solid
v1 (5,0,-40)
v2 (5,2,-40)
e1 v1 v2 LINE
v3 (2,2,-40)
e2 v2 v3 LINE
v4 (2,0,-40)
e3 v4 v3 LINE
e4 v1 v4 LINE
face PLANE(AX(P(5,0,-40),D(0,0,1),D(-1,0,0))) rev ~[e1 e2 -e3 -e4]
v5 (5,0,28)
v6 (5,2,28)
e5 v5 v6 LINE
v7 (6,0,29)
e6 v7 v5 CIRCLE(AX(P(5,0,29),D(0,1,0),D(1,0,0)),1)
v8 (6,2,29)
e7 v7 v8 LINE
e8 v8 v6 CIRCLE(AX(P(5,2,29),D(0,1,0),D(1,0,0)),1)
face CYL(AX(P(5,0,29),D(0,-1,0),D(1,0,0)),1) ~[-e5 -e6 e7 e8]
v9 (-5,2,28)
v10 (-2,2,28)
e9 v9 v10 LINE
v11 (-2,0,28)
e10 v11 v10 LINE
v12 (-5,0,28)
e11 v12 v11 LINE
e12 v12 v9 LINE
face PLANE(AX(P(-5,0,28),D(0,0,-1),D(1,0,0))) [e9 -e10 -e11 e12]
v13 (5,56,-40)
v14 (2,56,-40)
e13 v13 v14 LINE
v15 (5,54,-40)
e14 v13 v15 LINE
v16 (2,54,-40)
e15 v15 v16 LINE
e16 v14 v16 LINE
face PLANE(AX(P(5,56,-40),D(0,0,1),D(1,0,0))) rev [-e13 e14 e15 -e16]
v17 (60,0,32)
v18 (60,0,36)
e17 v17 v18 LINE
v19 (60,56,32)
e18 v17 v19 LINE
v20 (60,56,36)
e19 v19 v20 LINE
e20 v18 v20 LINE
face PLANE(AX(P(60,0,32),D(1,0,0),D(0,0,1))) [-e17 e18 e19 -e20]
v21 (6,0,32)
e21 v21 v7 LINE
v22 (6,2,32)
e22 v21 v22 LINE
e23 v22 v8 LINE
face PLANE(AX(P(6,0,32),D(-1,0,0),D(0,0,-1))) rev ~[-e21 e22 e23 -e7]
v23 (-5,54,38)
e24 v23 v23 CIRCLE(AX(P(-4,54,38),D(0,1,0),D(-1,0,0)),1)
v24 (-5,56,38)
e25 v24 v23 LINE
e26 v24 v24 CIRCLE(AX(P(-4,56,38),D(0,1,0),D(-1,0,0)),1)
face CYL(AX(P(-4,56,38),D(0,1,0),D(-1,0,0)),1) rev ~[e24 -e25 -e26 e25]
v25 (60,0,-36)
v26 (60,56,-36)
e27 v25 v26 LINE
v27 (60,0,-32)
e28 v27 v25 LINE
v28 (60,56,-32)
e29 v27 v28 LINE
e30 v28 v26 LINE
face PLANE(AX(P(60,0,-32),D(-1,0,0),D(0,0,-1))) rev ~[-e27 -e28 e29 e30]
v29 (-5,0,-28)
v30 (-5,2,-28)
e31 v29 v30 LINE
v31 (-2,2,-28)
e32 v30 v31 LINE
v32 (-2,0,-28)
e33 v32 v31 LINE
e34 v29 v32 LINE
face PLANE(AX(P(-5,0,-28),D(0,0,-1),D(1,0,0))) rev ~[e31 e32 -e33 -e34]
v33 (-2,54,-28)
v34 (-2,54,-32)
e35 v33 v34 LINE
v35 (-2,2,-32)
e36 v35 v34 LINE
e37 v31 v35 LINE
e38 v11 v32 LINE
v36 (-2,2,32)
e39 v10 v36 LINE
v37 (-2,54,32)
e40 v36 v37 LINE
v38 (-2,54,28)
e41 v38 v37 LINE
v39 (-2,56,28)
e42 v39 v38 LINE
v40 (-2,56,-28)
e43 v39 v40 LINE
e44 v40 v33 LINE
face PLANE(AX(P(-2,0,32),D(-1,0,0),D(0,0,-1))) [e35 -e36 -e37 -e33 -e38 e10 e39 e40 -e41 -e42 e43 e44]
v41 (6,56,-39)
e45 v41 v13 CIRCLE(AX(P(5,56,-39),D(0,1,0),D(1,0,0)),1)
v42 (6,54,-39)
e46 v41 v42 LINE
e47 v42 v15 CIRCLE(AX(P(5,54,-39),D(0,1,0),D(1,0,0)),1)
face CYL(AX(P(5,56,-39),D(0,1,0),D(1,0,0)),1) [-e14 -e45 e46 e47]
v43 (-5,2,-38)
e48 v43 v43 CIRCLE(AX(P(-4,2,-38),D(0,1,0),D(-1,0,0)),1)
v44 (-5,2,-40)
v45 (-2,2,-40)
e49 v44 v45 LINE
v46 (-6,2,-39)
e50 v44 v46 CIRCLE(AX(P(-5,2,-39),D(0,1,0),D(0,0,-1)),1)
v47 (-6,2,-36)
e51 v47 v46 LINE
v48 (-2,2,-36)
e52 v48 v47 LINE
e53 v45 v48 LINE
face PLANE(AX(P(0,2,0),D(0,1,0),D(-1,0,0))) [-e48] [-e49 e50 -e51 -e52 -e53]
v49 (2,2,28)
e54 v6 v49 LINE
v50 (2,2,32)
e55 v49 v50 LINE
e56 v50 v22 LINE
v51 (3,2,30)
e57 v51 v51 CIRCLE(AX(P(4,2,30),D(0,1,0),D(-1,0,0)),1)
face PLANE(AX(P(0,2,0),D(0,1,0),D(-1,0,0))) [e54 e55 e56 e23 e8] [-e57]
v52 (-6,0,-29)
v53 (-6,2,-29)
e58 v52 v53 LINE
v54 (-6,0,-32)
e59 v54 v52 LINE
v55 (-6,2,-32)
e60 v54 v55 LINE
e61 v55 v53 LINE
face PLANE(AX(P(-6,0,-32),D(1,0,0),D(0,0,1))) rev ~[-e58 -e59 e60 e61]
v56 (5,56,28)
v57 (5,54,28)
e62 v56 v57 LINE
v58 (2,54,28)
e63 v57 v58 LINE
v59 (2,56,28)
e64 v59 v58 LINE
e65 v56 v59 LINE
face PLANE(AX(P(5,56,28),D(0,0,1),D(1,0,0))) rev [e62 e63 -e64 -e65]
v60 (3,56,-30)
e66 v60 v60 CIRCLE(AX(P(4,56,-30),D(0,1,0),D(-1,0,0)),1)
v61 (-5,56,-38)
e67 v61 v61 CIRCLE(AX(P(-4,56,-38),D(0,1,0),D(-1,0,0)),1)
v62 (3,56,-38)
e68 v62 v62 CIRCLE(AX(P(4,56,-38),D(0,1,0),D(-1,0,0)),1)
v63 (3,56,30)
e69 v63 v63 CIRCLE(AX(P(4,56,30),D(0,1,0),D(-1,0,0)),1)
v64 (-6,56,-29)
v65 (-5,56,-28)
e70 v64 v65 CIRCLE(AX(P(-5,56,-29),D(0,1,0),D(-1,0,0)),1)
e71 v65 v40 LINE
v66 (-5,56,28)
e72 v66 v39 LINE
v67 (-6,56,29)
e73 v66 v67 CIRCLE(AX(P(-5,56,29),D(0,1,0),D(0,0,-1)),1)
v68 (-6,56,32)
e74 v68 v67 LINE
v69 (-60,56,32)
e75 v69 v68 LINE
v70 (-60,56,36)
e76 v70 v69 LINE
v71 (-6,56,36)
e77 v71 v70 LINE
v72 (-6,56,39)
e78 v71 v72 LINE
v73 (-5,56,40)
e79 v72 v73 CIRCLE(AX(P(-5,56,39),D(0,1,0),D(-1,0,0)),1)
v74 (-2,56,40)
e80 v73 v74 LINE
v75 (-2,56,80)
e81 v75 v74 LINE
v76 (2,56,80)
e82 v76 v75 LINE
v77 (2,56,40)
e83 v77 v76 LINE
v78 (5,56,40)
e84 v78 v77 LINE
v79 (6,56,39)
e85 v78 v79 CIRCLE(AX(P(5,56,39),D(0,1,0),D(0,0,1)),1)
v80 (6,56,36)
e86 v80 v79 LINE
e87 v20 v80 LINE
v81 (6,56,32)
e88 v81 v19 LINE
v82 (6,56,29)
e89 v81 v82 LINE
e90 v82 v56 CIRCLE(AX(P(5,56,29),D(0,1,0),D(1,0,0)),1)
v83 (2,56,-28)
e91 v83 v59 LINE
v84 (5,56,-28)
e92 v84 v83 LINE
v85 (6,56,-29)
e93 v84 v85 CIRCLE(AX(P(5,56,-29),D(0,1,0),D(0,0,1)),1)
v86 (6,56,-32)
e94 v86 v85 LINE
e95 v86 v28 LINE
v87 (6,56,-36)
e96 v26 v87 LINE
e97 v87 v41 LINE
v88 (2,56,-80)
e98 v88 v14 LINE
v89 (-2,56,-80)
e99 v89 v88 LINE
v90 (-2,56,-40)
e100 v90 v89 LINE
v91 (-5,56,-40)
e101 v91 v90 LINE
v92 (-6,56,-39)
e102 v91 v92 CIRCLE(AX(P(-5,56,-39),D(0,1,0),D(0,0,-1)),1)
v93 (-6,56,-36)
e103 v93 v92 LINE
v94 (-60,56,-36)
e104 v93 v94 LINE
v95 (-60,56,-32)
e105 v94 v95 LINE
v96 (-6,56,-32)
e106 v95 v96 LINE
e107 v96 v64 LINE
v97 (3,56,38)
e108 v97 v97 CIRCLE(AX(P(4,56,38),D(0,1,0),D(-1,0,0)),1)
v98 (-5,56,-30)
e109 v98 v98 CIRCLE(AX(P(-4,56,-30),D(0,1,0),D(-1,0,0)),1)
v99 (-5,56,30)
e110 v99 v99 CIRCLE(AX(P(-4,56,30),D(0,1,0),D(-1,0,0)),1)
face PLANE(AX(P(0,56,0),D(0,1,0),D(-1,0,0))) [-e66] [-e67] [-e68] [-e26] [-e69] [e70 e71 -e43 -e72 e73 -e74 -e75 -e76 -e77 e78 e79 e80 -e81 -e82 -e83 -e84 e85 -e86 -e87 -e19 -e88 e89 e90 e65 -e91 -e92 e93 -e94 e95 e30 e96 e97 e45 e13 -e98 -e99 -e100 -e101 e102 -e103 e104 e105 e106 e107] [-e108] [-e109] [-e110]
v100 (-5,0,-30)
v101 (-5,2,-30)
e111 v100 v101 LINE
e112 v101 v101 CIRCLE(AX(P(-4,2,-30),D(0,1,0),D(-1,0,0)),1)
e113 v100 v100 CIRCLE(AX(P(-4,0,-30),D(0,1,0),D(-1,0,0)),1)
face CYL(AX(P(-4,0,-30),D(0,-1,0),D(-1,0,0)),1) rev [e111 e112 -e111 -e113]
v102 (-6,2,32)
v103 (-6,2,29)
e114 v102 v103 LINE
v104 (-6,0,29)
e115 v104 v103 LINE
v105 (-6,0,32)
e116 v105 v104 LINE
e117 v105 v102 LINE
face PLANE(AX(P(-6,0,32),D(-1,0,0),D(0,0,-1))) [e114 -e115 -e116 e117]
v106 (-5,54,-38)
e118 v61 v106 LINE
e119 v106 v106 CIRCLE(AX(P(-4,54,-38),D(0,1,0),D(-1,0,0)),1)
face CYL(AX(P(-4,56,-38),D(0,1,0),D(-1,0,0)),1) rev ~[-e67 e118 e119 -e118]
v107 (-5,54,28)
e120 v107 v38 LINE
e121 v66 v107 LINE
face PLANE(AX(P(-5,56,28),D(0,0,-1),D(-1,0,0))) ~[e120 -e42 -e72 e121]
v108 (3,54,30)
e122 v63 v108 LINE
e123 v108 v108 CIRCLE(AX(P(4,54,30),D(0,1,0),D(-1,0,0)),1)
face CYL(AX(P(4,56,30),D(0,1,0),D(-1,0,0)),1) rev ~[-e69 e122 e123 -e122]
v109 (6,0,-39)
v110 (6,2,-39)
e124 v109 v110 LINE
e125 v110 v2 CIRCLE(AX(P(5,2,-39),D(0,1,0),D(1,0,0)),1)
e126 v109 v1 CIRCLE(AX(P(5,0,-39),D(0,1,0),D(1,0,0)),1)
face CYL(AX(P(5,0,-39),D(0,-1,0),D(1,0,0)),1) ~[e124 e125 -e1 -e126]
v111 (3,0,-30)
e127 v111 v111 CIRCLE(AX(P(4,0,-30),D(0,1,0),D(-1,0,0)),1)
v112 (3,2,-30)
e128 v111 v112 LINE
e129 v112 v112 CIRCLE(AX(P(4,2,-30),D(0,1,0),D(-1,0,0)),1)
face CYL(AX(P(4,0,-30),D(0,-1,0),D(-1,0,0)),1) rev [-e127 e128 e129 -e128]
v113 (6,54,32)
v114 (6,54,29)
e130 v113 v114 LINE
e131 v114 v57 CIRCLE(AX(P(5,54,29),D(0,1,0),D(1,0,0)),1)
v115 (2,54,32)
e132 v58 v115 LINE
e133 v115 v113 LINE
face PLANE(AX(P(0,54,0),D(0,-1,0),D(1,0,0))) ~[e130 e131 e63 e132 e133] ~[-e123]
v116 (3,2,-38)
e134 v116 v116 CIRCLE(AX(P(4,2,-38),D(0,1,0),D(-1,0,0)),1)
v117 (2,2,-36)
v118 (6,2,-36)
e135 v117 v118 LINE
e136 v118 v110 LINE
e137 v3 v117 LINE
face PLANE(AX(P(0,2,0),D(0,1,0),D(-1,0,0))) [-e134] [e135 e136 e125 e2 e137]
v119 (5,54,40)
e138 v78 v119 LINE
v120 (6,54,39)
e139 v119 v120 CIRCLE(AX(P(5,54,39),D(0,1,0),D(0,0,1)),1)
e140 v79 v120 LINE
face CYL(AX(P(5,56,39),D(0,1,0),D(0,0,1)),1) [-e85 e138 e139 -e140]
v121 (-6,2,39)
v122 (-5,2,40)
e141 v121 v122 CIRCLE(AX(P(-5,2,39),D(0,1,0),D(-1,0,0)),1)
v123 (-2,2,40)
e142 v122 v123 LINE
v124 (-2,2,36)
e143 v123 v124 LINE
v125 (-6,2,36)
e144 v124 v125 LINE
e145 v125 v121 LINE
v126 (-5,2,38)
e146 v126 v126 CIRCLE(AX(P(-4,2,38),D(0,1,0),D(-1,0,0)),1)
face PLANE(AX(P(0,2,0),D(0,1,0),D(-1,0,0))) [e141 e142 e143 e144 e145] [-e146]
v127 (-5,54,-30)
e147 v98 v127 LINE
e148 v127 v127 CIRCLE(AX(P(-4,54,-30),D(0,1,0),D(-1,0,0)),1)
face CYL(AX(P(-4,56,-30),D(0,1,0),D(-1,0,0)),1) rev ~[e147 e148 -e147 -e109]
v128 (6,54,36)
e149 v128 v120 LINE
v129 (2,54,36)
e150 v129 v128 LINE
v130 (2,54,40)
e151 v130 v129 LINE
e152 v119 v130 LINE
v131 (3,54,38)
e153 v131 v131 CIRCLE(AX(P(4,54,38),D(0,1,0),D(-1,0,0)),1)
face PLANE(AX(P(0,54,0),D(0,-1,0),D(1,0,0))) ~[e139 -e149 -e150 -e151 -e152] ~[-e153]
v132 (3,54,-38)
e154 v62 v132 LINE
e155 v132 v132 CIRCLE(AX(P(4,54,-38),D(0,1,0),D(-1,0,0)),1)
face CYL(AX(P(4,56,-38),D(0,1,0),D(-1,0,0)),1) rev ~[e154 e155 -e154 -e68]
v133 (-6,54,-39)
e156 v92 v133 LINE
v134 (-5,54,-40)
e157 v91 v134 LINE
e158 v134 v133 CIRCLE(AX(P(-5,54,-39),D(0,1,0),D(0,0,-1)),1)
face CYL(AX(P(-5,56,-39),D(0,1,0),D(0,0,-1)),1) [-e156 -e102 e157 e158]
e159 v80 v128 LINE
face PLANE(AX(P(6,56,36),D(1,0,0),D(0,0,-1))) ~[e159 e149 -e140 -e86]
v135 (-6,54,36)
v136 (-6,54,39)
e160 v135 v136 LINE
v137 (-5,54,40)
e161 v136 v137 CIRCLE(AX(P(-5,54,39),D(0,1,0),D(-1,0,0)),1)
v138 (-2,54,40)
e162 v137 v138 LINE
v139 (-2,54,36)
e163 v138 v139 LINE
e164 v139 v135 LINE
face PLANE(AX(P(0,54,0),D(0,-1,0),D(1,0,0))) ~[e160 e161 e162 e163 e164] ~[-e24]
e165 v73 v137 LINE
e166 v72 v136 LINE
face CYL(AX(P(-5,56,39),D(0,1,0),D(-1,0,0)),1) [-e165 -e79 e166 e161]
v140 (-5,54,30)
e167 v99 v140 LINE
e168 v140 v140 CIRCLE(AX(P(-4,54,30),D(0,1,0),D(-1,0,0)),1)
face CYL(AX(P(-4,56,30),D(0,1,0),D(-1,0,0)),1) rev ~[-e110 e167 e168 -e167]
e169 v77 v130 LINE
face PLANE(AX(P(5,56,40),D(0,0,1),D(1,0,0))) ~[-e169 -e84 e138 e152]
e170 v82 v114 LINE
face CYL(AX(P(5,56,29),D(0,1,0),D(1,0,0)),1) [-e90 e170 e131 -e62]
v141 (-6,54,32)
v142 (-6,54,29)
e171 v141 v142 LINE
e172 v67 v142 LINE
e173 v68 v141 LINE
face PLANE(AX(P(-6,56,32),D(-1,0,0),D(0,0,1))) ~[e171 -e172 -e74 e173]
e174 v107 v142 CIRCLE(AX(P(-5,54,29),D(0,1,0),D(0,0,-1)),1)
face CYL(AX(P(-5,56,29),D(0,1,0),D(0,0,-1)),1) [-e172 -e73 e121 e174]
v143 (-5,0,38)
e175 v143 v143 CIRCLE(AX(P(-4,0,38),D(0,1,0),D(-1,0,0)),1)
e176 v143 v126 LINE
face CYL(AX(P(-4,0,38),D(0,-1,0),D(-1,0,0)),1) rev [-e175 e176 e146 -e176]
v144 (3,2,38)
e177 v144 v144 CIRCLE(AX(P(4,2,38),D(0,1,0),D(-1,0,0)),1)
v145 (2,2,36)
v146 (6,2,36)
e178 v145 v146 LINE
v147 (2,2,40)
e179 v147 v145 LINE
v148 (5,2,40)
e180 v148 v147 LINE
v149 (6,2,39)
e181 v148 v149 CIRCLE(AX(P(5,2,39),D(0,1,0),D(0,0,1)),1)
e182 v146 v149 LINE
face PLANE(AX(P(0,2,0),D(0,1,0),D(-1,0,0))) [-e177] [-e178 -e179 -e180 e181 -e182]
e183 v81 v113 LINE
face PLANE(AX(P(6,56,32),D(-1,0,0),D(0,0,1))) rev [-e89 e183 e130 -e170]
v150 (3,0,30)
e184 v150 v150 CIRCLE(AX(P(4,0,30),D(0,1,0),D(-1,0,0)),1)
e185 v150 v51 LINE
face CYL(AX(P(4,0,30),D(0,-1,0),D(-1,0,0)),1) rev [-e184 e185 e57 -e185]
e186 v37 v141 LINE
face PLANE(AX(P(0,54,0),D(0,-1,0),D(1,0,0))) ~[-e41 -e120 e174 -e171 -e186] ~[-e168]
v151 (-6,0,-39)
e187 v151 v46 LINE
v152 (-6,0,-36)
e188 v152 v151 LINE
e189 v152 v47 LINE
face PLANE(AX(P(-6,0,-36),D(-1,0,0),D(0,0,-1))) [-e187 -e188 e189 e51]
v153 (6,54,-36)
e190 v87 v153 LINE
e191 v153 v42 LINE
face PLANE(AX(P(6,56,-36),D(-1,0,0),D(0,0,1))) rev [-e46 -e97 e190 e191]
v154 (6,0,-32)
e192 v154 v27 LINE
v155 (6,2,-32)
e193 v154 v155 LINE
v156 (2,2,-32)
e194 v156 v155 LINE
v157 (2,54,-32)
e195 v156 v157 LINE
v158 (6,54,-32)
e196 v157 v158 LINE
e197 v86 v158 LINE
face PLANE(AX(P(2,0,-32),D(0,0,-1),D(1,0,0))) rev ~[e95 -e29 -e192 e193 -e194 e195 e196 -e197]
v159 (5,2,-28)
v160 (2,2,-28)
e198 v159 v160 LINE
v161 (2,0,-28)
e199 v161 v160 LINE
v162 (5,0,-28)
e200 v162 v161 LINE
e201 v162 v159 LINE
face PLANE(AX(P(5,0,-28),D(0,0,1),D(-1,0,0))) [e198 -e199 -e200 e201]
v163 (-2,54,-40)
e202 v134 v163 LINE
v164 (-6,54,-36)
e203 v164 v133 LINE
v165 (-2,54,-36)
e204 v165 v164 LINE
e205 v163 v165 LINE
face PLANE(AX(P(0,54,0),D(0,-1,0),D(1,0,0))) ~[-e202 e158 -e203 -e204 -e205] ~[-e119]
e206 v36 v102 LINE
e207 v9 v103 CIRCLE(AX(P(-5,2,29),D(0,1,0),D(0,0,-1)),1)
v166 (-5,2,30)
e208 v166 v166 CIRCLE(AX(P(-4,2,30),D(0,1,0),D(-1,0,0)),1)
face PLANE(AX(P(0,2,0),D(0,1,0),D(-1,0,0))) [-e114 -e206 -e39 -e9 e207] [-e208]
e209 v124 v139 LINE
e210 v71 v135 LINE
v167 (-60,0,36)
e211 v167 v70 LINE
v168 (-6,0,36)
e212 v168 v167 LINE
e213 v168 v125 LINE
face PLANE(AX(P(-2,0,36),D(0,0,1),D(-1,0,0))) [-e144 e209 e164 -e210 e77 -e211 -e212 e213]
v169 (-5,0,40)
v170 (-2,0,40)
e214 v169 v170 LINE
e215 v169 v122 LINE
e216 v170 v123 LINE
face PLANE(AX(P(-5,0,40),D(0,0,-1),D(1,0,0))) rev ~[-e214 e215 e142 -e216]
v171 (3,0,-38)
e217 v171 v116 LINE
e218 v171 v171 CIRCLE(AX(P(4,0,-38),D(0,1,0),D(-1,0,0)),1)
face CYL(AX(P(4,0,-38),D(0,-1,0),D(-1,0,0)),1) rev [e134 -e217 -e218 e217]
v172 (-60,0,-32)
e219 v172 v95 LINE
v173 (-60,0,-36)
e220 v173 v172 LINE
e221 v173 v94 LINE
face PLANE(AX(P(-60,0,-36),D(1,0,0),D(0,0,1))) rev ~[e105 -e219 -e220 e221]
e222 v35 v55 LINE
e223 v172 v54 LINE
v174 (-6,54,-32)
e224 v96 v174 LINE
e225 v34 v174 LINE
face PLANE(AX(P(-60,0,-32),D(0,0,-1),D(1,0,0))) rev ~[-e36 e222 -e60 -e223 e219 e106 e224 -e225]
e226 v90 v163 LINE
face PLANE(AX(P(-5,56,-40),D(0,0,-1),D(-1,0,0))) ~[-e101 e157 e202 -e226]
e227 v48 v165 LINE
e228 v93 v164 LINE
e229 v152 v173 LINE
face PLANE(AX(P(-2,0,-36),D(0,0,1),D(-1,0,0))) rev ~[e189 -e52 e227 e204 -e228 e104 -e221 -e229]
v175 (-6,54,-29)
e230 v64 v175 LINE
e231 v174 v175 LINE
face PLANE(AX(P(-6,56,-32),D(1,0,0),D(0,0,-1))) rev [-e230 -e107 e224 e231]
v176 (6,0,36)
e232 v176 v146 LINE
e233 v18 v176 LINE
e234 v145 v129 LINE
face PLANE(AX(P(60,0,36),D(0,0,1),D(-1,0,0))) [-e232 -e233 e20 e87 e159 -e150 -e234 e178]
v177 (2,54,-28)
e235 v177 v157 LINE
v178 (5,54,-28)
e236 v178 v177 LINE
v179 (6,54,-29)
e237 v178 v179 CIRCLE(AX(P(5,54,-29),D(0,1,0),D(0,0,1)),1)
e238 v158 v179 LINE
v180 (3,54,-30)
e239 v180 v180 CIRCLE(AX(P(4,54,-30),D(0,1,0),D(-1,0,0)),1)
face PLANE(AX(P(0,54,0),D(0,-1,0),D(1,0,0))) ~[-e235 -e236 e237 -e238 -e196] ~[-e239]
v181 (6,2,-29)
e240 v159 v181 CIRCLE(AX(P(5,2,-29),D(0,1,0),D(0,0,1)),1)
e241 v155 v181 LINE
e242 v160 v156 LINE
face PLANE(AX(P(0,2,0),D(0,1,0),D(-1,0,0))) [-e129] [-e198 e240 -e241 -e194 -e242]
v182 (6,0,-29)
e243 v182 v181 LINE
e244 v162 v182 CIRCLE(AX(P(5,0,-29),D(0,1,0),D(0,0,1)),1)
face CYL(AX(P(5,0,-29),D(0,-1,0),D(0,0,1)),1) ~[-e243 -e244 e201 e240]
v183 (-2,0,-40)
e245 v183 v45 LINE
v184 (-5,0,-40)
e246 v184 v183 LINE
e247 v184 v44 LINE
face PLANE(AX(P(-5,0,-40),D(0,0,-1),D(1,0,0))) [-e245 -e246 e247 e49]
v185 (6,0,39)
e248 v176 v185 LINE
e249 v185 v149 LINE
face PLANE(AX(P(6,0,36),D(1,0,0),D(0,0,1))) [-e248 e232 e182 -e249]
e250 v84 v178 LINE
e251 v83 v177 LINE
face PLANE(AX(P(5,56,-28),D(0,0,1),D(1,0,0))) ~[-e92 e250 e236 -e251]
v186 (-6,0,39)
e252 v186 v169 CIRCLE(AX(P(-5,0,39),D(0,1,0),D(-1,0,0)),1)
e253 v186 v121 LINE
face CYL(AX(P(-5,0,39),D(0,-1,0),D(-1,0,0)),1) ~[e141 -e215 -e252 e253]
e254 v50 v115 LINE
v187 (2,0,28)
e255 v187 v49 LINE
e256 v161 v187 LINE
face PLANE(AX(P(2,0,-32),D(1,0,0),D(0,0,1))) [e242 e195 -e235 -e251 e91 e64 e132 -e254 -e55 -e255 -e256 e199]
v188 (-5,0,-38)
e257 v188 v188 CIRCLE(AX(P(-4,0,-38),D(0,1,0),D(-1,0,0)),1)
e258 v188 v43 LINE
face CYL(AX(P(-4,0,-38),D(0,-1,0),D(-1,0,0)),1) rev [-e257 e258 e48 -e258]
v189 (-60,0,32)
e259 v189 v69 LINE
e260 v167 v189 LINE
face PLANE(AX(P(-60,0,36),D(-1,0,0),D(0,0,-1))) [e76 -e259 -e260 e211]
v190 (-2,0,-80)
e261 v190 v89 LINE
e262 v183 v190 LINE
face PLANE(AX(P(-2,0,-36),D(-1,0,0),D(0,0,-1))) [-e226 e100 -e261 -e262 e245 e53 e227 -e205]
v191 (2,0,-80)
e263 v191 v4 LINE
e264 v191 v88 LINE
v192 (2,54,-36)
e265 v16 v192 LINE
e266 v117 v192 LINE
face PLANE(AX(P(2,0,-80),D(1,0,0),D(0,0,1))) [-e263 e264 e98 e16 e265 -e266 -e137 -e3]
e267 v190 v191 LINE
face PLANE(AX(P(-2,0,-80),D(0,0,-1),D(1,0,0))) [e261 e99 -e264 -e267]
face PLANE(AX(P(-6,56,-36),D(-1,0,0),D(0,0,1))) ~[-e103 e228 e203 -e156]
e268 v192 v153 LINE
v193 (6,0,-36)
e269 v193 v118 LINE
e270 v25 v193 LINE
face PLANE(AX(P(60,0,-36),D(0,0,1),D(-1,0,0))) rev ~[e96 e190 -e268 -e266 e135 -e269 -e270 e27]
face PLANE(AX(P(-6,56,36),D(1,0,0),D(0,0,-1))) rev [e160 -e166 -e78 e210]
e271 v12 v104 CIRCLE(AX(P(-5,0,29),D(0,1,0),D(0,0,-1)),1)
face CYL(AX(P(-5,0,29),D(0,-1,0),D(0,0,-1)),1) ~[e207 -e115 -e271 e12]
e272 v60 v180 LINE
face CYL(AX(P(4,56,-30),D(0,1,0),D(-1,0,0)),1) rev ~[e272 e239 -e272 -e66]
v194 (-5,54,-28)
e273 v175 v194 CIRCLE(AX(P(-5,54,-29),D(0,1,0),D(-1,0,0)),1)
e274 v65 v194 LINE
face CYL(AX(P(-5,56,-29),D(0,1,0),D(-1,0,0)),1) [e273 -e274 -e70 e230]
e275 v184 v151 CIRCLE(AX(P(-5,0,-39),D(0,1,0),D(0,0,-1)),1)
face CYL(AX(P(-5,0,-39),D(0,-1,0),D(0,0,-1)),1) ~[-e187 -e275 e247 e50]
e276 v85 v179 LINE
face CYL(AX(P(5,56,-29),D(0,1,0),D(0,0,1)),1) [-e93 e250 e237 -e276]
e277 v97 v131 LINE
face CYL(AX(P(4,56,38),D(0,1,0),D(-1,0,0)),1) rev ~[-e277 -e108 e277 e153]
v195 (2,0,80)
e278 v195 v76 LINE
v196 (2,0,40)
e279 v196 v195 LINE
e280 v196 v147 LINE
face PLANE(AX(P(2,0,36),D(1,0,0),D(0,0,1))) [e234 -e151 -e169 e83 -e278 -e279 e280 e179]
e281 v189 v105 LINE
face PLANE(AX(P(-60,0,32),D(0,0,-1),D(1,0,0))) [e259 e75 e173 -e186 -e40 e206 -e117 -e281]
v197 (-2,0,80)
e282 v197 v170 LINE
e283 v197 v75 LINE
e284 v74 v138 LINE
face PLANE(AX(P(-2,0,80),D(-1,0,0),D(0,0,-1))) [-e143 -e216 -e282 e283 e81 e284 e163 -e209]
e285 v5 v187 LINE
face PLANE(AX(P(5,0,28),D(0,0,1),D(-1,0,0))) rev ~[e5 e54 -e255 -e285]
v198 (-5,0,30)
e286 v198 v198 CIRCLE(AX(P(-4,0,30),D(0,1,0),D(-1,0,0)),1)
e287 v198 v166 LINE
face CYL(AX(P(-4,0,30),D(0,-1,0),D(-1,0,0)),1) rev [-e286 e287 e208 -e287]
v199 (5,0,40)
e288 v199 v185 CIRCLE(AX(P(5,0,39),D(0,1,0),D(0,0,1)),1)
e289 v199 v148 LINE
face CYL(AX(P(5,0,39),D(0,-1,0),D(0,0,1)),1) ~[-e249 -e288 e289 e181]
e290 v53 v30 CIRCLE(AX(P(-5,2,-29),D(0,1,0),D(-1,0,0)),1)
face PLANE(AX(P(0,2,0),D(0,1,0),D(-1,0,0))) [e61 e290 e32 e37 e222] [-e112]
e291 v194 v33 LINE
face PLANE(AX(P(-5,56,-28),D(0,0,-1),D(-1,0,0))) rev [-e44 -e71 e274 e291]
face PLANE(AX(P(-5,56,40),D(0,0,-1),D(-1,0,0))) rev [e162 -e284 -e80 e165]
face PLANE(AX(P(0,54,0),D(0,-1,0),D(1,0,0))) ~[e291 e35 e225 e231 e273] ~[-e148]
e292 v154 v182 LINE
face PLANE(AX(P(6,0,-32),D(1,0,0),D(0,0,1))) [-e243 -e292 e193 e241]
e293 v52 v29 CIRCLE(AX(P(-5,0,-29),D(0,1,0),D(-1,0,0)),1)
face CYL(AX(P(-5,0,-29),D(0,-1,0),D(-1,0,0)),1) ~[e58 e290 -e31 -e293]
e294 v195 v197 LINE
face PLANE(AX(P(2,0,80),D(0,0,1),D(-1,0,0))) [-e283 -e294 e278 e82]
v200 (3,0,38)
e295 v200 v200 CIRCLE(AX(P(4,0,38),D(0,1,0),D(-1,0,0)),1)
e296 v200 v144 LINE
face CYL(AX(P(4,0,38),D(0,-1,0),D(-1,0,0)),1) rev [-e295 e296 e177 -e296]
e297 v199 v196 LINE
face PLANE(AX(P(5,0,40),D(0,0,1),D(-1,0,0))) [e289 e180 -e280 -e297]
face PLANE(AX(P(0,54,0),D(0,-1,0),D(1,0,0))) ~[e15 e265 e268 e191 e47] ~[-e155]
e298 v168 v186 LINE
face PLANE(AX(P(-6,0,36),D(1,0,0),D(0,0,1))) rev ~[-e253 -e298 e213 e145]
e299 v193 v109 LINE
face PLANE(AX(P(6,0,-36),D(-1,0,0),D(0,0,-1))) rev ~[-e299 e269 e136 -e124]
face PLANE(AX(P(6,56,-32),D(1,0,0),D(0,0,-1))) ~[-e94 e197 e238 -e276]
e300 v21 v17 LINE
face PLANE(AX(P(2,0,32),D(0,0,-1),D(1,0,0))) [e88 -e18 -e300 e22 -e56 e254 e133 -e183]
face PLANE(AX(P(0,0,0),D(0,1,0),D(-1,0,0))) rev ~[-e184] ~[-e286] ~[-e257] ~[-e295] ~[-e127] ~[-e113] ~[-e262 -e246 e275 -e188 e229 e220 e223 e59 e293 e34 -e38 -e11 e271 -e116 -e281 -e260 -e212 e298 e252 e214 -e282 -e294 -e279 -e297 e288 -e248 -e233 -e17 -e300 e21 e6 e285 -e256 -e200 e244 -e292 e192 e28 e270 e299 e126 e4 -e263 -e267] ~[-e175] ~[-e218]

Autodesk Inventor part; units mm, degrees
ref_plane "YZ Plane" through (0, 0, 0) normal (1, 0, 0) x (0, 1, 0)
ref_plane "XY Plane" through (0, 0, 0) normal (0, 0, 1) x (1, 0, 0)
sketch "Эскиз1" plane through (0, 0, 0) normal (0, 1, 0) x (-1, 0, 0)
  line L0 (-2, 80) -> (2, 80)
  line L1 (2, 80) -> (2, -80)
  line L2 (2, -80) -> (-2, -80)
  line L3 (-2, -80) -> (-2, 80)
  line L4 (60, 32) -> (-60, 32)
  line L5 (-60, 32) -> (-60, 36)
  line L6 (-60, 36) -> (60, 36)
  line L7 (60, 36) -> (60, 32)
  line L8 (60, -32) -> (-60, -32)
  line L9 (-60, -32) -> (-60, -36)
  line L10 (-60, -36) -> (60, -36)
  line L11 (60, -36) -> (60, -32)
  line L12 (60, 32) -> (60, -32) construction
  line L13 (2, -80) -> (2, -80)
  line L14 (2, -80) -> (-2, -80)
  point P0 (0, 0)
  point P1 (0, -32)
  point P2 (60, 0)
  point P3 (0, -80)
  point P4 (2, 0)
  dimension "d1" = 120
  dimension "d3" = 4
  dimension "d4" = 4
  dimension "d5" = 4
  dimension "d26" = 32
  dimension "d27" = 32
  dimension "d28" = 80
  dimension "d29" = 80
  dimension "d32" = 44
extrude "Выдавливание1" add sketch "Эскиз1" along normal blind 56
ref_plane "РабПлоскость1" through (0, 28, 0) normal (0, 1, 0) x (-1, 0, 0)
sketch "Эскиз2" plane through (0, 0, 0) normal (0, 1, 0) x (-1, 0, 0)
  line L0 (-2, 36) -> (-2, 80) construction
  line L1 (-2, 80) -> (2, 80) construction
  line L2 (2, 80) -> (2, 36) construction
  line L3 (2, 36) -> (60, 36) construction
  line L4 (60, 36) -> (60, 32) construction
  line L5 (60, 32) -> (2, 32) construction
  line L6 (2, 32) -> (2, -32) construction
  line L7 (60, -32) -> (2, -32) construction
  line L8 (60, -36) -> (60, -32) construction
  line L9 (2, -36) -> (60, -36) construction
  line L10 (2, -36) -> (2, -80) construction
  line L11 (2, -80) -> (-2, -80) construction
  line L12 (-2, -80) -> (-2, -36) construction
  line L13 (-60, -36) -> (-2, -36) construction
  line L14 (-60, -32) -> (-60, -36) construction
  line L15 (-2, -32) -> (-60, -32) construction
  line L16 (-2, -32) -> (-2, 32) construction
  line L17 (-2, 32) -> (-60, 32) construction
  line L18 (-60, 32) -> (-60, 36) construction
  line L19 (-60, 36) -> (-2, 36) construction
  line L20 (-2, 32) -> (-6, 32)
  line L21 (-6, 32) -> (-6, 29)
  line L22 (-5, 28) -> (-2, 28)
  line L23 (-2, 28) -> (-2, 32)
  circle A0 centre (-4, 30) radius 1
  arc A1 (-6, 29) -> (-5, 28) centre (-5, 29) ccw
  line L24 (-2, -36) -> (-6, -36)
  line L25 (-6, -36) -> (-6, -39)
  line L26 (-5, -40) -> (-2, -40)
  line L27 (-2, -40) -> (-2, -36)
  circle A2 centre (-4, -38) radius 1
  arc A3 (-6, -39) -> (-5, -40) centre (-5, -39) ccw
  line L28 (-60, 34) -> (60, 34) construction
  line L29 (-60, -34) -> (60, -34) construction
  line L30 (0, 80) -> (0, -80) construction
  line L31 (-2, 36) -> (-6, 36)
  line L32 (-6, 36) -> (-6, 39)
  line L33 (-5, 40) -> (-2, 40)
  line L34 (-2, 40) -> (-2, 36)
  circle A4 centre (-4, 38) radius 1
  arc A5 (-5, 40) -> (-6, 39) centre (-5, 39) ccw
  line L35 (2, 32) -> (6, 32)
  line L36 (6, 32) -> (6, 29)
  line L37 (5, 28) -> (2, 28)
  line L38 (2, 28) -> (2, 32)
  circle A6 centre (4, 30) radius 1
  arc A7 (5, 28) -> (6, 29) centre (5, 29) ccw
  arc A8 (6, 39) -> (5, 40) centre (5, 39) ccw
  line L39 (5, 40) -> (2, 40)
  line L40 (2, 40) -> (2, 36)
  line L41 (6, 36) -> (6, 39)
  line L42 (2, 36) -> (6, 36)
  circle A9 centre (4, 38) radius 1
  line L43 (-2, -28) -> (-2, -32)
  line L44 (-2, -32) -> (-6, -32)
  circle A10 centre (-4, -30) radius 1
  line L45 (-6, -32) -> (-6, -29)
  arc A11 (-5, -28) -> (-6, -29) centre (-5, -29) ccw
  line L46 (-5, -28) -> (-2, -28)
  line L47 (2, -40) -> (2, -36)
  line L48 (2, -36) -> (6, -36)
  circle A12 centre (4, -38) radius 1
  line L49 (6, -36) -> (6, -39)
  arc A13 (5, -40) -> (6, -39) centre (5, -39) ccw
  line L50 (5, -40) -> (2, -40)
  line L51 (2, -28) -> (2, -32)
  line L52 (2, -32) -> (6, -32)
  line L53 (6, -32) -> (6, -29)
  line L54 (5, -28) -> (2, -28)
  arc A14 (6, -29) -> (5, -28) centre (5, -29) ccw
  circle A15 centre (4, -30) radius 1
  point P0 (0, 0)
  point P1 (-6, 28)
  point P2 (-6, -40)
  point P3 (-6, 40)
  point P4 (6, 28)
  point P5 (6, 40)
  point P6 (-6, -28)
  point P7 (2, -32)
  point P8 (6, -40)
  point P9 (6, -28)
  dimension "d11" = 4
  dimension "d12" = 4
  dimension "d13" = 2
  dimension "d15" = 1
  dimension "d16" = 2
  dimension "d17" = 2
  dimension "d18" = 4
  dimension "d19" = 4
  dimension "d20" = 2
  dimension "d21" = 1
  dimension "d22" = 2
  dimension "d23" = 2
extrude "Выдавливание2" add sketch "Эскиз2" along normal blind 2
mirror "Зеркальное отражение1" about plane through (0, 28, 0) normal (0, 1, 0) of "Выдавливание2"
extrude "Выдавливание3" add sketch "Эскиз1" along normal up to surface (56 mm away) contours L0 L1 L6 L3 | L6 L1 L4 L3 | L4 L1 L8 L3 | L8 L1 L10 L3 | L10 L1 L2 L3
properties part number "крепление-стенки" material "Пластик АБС"
